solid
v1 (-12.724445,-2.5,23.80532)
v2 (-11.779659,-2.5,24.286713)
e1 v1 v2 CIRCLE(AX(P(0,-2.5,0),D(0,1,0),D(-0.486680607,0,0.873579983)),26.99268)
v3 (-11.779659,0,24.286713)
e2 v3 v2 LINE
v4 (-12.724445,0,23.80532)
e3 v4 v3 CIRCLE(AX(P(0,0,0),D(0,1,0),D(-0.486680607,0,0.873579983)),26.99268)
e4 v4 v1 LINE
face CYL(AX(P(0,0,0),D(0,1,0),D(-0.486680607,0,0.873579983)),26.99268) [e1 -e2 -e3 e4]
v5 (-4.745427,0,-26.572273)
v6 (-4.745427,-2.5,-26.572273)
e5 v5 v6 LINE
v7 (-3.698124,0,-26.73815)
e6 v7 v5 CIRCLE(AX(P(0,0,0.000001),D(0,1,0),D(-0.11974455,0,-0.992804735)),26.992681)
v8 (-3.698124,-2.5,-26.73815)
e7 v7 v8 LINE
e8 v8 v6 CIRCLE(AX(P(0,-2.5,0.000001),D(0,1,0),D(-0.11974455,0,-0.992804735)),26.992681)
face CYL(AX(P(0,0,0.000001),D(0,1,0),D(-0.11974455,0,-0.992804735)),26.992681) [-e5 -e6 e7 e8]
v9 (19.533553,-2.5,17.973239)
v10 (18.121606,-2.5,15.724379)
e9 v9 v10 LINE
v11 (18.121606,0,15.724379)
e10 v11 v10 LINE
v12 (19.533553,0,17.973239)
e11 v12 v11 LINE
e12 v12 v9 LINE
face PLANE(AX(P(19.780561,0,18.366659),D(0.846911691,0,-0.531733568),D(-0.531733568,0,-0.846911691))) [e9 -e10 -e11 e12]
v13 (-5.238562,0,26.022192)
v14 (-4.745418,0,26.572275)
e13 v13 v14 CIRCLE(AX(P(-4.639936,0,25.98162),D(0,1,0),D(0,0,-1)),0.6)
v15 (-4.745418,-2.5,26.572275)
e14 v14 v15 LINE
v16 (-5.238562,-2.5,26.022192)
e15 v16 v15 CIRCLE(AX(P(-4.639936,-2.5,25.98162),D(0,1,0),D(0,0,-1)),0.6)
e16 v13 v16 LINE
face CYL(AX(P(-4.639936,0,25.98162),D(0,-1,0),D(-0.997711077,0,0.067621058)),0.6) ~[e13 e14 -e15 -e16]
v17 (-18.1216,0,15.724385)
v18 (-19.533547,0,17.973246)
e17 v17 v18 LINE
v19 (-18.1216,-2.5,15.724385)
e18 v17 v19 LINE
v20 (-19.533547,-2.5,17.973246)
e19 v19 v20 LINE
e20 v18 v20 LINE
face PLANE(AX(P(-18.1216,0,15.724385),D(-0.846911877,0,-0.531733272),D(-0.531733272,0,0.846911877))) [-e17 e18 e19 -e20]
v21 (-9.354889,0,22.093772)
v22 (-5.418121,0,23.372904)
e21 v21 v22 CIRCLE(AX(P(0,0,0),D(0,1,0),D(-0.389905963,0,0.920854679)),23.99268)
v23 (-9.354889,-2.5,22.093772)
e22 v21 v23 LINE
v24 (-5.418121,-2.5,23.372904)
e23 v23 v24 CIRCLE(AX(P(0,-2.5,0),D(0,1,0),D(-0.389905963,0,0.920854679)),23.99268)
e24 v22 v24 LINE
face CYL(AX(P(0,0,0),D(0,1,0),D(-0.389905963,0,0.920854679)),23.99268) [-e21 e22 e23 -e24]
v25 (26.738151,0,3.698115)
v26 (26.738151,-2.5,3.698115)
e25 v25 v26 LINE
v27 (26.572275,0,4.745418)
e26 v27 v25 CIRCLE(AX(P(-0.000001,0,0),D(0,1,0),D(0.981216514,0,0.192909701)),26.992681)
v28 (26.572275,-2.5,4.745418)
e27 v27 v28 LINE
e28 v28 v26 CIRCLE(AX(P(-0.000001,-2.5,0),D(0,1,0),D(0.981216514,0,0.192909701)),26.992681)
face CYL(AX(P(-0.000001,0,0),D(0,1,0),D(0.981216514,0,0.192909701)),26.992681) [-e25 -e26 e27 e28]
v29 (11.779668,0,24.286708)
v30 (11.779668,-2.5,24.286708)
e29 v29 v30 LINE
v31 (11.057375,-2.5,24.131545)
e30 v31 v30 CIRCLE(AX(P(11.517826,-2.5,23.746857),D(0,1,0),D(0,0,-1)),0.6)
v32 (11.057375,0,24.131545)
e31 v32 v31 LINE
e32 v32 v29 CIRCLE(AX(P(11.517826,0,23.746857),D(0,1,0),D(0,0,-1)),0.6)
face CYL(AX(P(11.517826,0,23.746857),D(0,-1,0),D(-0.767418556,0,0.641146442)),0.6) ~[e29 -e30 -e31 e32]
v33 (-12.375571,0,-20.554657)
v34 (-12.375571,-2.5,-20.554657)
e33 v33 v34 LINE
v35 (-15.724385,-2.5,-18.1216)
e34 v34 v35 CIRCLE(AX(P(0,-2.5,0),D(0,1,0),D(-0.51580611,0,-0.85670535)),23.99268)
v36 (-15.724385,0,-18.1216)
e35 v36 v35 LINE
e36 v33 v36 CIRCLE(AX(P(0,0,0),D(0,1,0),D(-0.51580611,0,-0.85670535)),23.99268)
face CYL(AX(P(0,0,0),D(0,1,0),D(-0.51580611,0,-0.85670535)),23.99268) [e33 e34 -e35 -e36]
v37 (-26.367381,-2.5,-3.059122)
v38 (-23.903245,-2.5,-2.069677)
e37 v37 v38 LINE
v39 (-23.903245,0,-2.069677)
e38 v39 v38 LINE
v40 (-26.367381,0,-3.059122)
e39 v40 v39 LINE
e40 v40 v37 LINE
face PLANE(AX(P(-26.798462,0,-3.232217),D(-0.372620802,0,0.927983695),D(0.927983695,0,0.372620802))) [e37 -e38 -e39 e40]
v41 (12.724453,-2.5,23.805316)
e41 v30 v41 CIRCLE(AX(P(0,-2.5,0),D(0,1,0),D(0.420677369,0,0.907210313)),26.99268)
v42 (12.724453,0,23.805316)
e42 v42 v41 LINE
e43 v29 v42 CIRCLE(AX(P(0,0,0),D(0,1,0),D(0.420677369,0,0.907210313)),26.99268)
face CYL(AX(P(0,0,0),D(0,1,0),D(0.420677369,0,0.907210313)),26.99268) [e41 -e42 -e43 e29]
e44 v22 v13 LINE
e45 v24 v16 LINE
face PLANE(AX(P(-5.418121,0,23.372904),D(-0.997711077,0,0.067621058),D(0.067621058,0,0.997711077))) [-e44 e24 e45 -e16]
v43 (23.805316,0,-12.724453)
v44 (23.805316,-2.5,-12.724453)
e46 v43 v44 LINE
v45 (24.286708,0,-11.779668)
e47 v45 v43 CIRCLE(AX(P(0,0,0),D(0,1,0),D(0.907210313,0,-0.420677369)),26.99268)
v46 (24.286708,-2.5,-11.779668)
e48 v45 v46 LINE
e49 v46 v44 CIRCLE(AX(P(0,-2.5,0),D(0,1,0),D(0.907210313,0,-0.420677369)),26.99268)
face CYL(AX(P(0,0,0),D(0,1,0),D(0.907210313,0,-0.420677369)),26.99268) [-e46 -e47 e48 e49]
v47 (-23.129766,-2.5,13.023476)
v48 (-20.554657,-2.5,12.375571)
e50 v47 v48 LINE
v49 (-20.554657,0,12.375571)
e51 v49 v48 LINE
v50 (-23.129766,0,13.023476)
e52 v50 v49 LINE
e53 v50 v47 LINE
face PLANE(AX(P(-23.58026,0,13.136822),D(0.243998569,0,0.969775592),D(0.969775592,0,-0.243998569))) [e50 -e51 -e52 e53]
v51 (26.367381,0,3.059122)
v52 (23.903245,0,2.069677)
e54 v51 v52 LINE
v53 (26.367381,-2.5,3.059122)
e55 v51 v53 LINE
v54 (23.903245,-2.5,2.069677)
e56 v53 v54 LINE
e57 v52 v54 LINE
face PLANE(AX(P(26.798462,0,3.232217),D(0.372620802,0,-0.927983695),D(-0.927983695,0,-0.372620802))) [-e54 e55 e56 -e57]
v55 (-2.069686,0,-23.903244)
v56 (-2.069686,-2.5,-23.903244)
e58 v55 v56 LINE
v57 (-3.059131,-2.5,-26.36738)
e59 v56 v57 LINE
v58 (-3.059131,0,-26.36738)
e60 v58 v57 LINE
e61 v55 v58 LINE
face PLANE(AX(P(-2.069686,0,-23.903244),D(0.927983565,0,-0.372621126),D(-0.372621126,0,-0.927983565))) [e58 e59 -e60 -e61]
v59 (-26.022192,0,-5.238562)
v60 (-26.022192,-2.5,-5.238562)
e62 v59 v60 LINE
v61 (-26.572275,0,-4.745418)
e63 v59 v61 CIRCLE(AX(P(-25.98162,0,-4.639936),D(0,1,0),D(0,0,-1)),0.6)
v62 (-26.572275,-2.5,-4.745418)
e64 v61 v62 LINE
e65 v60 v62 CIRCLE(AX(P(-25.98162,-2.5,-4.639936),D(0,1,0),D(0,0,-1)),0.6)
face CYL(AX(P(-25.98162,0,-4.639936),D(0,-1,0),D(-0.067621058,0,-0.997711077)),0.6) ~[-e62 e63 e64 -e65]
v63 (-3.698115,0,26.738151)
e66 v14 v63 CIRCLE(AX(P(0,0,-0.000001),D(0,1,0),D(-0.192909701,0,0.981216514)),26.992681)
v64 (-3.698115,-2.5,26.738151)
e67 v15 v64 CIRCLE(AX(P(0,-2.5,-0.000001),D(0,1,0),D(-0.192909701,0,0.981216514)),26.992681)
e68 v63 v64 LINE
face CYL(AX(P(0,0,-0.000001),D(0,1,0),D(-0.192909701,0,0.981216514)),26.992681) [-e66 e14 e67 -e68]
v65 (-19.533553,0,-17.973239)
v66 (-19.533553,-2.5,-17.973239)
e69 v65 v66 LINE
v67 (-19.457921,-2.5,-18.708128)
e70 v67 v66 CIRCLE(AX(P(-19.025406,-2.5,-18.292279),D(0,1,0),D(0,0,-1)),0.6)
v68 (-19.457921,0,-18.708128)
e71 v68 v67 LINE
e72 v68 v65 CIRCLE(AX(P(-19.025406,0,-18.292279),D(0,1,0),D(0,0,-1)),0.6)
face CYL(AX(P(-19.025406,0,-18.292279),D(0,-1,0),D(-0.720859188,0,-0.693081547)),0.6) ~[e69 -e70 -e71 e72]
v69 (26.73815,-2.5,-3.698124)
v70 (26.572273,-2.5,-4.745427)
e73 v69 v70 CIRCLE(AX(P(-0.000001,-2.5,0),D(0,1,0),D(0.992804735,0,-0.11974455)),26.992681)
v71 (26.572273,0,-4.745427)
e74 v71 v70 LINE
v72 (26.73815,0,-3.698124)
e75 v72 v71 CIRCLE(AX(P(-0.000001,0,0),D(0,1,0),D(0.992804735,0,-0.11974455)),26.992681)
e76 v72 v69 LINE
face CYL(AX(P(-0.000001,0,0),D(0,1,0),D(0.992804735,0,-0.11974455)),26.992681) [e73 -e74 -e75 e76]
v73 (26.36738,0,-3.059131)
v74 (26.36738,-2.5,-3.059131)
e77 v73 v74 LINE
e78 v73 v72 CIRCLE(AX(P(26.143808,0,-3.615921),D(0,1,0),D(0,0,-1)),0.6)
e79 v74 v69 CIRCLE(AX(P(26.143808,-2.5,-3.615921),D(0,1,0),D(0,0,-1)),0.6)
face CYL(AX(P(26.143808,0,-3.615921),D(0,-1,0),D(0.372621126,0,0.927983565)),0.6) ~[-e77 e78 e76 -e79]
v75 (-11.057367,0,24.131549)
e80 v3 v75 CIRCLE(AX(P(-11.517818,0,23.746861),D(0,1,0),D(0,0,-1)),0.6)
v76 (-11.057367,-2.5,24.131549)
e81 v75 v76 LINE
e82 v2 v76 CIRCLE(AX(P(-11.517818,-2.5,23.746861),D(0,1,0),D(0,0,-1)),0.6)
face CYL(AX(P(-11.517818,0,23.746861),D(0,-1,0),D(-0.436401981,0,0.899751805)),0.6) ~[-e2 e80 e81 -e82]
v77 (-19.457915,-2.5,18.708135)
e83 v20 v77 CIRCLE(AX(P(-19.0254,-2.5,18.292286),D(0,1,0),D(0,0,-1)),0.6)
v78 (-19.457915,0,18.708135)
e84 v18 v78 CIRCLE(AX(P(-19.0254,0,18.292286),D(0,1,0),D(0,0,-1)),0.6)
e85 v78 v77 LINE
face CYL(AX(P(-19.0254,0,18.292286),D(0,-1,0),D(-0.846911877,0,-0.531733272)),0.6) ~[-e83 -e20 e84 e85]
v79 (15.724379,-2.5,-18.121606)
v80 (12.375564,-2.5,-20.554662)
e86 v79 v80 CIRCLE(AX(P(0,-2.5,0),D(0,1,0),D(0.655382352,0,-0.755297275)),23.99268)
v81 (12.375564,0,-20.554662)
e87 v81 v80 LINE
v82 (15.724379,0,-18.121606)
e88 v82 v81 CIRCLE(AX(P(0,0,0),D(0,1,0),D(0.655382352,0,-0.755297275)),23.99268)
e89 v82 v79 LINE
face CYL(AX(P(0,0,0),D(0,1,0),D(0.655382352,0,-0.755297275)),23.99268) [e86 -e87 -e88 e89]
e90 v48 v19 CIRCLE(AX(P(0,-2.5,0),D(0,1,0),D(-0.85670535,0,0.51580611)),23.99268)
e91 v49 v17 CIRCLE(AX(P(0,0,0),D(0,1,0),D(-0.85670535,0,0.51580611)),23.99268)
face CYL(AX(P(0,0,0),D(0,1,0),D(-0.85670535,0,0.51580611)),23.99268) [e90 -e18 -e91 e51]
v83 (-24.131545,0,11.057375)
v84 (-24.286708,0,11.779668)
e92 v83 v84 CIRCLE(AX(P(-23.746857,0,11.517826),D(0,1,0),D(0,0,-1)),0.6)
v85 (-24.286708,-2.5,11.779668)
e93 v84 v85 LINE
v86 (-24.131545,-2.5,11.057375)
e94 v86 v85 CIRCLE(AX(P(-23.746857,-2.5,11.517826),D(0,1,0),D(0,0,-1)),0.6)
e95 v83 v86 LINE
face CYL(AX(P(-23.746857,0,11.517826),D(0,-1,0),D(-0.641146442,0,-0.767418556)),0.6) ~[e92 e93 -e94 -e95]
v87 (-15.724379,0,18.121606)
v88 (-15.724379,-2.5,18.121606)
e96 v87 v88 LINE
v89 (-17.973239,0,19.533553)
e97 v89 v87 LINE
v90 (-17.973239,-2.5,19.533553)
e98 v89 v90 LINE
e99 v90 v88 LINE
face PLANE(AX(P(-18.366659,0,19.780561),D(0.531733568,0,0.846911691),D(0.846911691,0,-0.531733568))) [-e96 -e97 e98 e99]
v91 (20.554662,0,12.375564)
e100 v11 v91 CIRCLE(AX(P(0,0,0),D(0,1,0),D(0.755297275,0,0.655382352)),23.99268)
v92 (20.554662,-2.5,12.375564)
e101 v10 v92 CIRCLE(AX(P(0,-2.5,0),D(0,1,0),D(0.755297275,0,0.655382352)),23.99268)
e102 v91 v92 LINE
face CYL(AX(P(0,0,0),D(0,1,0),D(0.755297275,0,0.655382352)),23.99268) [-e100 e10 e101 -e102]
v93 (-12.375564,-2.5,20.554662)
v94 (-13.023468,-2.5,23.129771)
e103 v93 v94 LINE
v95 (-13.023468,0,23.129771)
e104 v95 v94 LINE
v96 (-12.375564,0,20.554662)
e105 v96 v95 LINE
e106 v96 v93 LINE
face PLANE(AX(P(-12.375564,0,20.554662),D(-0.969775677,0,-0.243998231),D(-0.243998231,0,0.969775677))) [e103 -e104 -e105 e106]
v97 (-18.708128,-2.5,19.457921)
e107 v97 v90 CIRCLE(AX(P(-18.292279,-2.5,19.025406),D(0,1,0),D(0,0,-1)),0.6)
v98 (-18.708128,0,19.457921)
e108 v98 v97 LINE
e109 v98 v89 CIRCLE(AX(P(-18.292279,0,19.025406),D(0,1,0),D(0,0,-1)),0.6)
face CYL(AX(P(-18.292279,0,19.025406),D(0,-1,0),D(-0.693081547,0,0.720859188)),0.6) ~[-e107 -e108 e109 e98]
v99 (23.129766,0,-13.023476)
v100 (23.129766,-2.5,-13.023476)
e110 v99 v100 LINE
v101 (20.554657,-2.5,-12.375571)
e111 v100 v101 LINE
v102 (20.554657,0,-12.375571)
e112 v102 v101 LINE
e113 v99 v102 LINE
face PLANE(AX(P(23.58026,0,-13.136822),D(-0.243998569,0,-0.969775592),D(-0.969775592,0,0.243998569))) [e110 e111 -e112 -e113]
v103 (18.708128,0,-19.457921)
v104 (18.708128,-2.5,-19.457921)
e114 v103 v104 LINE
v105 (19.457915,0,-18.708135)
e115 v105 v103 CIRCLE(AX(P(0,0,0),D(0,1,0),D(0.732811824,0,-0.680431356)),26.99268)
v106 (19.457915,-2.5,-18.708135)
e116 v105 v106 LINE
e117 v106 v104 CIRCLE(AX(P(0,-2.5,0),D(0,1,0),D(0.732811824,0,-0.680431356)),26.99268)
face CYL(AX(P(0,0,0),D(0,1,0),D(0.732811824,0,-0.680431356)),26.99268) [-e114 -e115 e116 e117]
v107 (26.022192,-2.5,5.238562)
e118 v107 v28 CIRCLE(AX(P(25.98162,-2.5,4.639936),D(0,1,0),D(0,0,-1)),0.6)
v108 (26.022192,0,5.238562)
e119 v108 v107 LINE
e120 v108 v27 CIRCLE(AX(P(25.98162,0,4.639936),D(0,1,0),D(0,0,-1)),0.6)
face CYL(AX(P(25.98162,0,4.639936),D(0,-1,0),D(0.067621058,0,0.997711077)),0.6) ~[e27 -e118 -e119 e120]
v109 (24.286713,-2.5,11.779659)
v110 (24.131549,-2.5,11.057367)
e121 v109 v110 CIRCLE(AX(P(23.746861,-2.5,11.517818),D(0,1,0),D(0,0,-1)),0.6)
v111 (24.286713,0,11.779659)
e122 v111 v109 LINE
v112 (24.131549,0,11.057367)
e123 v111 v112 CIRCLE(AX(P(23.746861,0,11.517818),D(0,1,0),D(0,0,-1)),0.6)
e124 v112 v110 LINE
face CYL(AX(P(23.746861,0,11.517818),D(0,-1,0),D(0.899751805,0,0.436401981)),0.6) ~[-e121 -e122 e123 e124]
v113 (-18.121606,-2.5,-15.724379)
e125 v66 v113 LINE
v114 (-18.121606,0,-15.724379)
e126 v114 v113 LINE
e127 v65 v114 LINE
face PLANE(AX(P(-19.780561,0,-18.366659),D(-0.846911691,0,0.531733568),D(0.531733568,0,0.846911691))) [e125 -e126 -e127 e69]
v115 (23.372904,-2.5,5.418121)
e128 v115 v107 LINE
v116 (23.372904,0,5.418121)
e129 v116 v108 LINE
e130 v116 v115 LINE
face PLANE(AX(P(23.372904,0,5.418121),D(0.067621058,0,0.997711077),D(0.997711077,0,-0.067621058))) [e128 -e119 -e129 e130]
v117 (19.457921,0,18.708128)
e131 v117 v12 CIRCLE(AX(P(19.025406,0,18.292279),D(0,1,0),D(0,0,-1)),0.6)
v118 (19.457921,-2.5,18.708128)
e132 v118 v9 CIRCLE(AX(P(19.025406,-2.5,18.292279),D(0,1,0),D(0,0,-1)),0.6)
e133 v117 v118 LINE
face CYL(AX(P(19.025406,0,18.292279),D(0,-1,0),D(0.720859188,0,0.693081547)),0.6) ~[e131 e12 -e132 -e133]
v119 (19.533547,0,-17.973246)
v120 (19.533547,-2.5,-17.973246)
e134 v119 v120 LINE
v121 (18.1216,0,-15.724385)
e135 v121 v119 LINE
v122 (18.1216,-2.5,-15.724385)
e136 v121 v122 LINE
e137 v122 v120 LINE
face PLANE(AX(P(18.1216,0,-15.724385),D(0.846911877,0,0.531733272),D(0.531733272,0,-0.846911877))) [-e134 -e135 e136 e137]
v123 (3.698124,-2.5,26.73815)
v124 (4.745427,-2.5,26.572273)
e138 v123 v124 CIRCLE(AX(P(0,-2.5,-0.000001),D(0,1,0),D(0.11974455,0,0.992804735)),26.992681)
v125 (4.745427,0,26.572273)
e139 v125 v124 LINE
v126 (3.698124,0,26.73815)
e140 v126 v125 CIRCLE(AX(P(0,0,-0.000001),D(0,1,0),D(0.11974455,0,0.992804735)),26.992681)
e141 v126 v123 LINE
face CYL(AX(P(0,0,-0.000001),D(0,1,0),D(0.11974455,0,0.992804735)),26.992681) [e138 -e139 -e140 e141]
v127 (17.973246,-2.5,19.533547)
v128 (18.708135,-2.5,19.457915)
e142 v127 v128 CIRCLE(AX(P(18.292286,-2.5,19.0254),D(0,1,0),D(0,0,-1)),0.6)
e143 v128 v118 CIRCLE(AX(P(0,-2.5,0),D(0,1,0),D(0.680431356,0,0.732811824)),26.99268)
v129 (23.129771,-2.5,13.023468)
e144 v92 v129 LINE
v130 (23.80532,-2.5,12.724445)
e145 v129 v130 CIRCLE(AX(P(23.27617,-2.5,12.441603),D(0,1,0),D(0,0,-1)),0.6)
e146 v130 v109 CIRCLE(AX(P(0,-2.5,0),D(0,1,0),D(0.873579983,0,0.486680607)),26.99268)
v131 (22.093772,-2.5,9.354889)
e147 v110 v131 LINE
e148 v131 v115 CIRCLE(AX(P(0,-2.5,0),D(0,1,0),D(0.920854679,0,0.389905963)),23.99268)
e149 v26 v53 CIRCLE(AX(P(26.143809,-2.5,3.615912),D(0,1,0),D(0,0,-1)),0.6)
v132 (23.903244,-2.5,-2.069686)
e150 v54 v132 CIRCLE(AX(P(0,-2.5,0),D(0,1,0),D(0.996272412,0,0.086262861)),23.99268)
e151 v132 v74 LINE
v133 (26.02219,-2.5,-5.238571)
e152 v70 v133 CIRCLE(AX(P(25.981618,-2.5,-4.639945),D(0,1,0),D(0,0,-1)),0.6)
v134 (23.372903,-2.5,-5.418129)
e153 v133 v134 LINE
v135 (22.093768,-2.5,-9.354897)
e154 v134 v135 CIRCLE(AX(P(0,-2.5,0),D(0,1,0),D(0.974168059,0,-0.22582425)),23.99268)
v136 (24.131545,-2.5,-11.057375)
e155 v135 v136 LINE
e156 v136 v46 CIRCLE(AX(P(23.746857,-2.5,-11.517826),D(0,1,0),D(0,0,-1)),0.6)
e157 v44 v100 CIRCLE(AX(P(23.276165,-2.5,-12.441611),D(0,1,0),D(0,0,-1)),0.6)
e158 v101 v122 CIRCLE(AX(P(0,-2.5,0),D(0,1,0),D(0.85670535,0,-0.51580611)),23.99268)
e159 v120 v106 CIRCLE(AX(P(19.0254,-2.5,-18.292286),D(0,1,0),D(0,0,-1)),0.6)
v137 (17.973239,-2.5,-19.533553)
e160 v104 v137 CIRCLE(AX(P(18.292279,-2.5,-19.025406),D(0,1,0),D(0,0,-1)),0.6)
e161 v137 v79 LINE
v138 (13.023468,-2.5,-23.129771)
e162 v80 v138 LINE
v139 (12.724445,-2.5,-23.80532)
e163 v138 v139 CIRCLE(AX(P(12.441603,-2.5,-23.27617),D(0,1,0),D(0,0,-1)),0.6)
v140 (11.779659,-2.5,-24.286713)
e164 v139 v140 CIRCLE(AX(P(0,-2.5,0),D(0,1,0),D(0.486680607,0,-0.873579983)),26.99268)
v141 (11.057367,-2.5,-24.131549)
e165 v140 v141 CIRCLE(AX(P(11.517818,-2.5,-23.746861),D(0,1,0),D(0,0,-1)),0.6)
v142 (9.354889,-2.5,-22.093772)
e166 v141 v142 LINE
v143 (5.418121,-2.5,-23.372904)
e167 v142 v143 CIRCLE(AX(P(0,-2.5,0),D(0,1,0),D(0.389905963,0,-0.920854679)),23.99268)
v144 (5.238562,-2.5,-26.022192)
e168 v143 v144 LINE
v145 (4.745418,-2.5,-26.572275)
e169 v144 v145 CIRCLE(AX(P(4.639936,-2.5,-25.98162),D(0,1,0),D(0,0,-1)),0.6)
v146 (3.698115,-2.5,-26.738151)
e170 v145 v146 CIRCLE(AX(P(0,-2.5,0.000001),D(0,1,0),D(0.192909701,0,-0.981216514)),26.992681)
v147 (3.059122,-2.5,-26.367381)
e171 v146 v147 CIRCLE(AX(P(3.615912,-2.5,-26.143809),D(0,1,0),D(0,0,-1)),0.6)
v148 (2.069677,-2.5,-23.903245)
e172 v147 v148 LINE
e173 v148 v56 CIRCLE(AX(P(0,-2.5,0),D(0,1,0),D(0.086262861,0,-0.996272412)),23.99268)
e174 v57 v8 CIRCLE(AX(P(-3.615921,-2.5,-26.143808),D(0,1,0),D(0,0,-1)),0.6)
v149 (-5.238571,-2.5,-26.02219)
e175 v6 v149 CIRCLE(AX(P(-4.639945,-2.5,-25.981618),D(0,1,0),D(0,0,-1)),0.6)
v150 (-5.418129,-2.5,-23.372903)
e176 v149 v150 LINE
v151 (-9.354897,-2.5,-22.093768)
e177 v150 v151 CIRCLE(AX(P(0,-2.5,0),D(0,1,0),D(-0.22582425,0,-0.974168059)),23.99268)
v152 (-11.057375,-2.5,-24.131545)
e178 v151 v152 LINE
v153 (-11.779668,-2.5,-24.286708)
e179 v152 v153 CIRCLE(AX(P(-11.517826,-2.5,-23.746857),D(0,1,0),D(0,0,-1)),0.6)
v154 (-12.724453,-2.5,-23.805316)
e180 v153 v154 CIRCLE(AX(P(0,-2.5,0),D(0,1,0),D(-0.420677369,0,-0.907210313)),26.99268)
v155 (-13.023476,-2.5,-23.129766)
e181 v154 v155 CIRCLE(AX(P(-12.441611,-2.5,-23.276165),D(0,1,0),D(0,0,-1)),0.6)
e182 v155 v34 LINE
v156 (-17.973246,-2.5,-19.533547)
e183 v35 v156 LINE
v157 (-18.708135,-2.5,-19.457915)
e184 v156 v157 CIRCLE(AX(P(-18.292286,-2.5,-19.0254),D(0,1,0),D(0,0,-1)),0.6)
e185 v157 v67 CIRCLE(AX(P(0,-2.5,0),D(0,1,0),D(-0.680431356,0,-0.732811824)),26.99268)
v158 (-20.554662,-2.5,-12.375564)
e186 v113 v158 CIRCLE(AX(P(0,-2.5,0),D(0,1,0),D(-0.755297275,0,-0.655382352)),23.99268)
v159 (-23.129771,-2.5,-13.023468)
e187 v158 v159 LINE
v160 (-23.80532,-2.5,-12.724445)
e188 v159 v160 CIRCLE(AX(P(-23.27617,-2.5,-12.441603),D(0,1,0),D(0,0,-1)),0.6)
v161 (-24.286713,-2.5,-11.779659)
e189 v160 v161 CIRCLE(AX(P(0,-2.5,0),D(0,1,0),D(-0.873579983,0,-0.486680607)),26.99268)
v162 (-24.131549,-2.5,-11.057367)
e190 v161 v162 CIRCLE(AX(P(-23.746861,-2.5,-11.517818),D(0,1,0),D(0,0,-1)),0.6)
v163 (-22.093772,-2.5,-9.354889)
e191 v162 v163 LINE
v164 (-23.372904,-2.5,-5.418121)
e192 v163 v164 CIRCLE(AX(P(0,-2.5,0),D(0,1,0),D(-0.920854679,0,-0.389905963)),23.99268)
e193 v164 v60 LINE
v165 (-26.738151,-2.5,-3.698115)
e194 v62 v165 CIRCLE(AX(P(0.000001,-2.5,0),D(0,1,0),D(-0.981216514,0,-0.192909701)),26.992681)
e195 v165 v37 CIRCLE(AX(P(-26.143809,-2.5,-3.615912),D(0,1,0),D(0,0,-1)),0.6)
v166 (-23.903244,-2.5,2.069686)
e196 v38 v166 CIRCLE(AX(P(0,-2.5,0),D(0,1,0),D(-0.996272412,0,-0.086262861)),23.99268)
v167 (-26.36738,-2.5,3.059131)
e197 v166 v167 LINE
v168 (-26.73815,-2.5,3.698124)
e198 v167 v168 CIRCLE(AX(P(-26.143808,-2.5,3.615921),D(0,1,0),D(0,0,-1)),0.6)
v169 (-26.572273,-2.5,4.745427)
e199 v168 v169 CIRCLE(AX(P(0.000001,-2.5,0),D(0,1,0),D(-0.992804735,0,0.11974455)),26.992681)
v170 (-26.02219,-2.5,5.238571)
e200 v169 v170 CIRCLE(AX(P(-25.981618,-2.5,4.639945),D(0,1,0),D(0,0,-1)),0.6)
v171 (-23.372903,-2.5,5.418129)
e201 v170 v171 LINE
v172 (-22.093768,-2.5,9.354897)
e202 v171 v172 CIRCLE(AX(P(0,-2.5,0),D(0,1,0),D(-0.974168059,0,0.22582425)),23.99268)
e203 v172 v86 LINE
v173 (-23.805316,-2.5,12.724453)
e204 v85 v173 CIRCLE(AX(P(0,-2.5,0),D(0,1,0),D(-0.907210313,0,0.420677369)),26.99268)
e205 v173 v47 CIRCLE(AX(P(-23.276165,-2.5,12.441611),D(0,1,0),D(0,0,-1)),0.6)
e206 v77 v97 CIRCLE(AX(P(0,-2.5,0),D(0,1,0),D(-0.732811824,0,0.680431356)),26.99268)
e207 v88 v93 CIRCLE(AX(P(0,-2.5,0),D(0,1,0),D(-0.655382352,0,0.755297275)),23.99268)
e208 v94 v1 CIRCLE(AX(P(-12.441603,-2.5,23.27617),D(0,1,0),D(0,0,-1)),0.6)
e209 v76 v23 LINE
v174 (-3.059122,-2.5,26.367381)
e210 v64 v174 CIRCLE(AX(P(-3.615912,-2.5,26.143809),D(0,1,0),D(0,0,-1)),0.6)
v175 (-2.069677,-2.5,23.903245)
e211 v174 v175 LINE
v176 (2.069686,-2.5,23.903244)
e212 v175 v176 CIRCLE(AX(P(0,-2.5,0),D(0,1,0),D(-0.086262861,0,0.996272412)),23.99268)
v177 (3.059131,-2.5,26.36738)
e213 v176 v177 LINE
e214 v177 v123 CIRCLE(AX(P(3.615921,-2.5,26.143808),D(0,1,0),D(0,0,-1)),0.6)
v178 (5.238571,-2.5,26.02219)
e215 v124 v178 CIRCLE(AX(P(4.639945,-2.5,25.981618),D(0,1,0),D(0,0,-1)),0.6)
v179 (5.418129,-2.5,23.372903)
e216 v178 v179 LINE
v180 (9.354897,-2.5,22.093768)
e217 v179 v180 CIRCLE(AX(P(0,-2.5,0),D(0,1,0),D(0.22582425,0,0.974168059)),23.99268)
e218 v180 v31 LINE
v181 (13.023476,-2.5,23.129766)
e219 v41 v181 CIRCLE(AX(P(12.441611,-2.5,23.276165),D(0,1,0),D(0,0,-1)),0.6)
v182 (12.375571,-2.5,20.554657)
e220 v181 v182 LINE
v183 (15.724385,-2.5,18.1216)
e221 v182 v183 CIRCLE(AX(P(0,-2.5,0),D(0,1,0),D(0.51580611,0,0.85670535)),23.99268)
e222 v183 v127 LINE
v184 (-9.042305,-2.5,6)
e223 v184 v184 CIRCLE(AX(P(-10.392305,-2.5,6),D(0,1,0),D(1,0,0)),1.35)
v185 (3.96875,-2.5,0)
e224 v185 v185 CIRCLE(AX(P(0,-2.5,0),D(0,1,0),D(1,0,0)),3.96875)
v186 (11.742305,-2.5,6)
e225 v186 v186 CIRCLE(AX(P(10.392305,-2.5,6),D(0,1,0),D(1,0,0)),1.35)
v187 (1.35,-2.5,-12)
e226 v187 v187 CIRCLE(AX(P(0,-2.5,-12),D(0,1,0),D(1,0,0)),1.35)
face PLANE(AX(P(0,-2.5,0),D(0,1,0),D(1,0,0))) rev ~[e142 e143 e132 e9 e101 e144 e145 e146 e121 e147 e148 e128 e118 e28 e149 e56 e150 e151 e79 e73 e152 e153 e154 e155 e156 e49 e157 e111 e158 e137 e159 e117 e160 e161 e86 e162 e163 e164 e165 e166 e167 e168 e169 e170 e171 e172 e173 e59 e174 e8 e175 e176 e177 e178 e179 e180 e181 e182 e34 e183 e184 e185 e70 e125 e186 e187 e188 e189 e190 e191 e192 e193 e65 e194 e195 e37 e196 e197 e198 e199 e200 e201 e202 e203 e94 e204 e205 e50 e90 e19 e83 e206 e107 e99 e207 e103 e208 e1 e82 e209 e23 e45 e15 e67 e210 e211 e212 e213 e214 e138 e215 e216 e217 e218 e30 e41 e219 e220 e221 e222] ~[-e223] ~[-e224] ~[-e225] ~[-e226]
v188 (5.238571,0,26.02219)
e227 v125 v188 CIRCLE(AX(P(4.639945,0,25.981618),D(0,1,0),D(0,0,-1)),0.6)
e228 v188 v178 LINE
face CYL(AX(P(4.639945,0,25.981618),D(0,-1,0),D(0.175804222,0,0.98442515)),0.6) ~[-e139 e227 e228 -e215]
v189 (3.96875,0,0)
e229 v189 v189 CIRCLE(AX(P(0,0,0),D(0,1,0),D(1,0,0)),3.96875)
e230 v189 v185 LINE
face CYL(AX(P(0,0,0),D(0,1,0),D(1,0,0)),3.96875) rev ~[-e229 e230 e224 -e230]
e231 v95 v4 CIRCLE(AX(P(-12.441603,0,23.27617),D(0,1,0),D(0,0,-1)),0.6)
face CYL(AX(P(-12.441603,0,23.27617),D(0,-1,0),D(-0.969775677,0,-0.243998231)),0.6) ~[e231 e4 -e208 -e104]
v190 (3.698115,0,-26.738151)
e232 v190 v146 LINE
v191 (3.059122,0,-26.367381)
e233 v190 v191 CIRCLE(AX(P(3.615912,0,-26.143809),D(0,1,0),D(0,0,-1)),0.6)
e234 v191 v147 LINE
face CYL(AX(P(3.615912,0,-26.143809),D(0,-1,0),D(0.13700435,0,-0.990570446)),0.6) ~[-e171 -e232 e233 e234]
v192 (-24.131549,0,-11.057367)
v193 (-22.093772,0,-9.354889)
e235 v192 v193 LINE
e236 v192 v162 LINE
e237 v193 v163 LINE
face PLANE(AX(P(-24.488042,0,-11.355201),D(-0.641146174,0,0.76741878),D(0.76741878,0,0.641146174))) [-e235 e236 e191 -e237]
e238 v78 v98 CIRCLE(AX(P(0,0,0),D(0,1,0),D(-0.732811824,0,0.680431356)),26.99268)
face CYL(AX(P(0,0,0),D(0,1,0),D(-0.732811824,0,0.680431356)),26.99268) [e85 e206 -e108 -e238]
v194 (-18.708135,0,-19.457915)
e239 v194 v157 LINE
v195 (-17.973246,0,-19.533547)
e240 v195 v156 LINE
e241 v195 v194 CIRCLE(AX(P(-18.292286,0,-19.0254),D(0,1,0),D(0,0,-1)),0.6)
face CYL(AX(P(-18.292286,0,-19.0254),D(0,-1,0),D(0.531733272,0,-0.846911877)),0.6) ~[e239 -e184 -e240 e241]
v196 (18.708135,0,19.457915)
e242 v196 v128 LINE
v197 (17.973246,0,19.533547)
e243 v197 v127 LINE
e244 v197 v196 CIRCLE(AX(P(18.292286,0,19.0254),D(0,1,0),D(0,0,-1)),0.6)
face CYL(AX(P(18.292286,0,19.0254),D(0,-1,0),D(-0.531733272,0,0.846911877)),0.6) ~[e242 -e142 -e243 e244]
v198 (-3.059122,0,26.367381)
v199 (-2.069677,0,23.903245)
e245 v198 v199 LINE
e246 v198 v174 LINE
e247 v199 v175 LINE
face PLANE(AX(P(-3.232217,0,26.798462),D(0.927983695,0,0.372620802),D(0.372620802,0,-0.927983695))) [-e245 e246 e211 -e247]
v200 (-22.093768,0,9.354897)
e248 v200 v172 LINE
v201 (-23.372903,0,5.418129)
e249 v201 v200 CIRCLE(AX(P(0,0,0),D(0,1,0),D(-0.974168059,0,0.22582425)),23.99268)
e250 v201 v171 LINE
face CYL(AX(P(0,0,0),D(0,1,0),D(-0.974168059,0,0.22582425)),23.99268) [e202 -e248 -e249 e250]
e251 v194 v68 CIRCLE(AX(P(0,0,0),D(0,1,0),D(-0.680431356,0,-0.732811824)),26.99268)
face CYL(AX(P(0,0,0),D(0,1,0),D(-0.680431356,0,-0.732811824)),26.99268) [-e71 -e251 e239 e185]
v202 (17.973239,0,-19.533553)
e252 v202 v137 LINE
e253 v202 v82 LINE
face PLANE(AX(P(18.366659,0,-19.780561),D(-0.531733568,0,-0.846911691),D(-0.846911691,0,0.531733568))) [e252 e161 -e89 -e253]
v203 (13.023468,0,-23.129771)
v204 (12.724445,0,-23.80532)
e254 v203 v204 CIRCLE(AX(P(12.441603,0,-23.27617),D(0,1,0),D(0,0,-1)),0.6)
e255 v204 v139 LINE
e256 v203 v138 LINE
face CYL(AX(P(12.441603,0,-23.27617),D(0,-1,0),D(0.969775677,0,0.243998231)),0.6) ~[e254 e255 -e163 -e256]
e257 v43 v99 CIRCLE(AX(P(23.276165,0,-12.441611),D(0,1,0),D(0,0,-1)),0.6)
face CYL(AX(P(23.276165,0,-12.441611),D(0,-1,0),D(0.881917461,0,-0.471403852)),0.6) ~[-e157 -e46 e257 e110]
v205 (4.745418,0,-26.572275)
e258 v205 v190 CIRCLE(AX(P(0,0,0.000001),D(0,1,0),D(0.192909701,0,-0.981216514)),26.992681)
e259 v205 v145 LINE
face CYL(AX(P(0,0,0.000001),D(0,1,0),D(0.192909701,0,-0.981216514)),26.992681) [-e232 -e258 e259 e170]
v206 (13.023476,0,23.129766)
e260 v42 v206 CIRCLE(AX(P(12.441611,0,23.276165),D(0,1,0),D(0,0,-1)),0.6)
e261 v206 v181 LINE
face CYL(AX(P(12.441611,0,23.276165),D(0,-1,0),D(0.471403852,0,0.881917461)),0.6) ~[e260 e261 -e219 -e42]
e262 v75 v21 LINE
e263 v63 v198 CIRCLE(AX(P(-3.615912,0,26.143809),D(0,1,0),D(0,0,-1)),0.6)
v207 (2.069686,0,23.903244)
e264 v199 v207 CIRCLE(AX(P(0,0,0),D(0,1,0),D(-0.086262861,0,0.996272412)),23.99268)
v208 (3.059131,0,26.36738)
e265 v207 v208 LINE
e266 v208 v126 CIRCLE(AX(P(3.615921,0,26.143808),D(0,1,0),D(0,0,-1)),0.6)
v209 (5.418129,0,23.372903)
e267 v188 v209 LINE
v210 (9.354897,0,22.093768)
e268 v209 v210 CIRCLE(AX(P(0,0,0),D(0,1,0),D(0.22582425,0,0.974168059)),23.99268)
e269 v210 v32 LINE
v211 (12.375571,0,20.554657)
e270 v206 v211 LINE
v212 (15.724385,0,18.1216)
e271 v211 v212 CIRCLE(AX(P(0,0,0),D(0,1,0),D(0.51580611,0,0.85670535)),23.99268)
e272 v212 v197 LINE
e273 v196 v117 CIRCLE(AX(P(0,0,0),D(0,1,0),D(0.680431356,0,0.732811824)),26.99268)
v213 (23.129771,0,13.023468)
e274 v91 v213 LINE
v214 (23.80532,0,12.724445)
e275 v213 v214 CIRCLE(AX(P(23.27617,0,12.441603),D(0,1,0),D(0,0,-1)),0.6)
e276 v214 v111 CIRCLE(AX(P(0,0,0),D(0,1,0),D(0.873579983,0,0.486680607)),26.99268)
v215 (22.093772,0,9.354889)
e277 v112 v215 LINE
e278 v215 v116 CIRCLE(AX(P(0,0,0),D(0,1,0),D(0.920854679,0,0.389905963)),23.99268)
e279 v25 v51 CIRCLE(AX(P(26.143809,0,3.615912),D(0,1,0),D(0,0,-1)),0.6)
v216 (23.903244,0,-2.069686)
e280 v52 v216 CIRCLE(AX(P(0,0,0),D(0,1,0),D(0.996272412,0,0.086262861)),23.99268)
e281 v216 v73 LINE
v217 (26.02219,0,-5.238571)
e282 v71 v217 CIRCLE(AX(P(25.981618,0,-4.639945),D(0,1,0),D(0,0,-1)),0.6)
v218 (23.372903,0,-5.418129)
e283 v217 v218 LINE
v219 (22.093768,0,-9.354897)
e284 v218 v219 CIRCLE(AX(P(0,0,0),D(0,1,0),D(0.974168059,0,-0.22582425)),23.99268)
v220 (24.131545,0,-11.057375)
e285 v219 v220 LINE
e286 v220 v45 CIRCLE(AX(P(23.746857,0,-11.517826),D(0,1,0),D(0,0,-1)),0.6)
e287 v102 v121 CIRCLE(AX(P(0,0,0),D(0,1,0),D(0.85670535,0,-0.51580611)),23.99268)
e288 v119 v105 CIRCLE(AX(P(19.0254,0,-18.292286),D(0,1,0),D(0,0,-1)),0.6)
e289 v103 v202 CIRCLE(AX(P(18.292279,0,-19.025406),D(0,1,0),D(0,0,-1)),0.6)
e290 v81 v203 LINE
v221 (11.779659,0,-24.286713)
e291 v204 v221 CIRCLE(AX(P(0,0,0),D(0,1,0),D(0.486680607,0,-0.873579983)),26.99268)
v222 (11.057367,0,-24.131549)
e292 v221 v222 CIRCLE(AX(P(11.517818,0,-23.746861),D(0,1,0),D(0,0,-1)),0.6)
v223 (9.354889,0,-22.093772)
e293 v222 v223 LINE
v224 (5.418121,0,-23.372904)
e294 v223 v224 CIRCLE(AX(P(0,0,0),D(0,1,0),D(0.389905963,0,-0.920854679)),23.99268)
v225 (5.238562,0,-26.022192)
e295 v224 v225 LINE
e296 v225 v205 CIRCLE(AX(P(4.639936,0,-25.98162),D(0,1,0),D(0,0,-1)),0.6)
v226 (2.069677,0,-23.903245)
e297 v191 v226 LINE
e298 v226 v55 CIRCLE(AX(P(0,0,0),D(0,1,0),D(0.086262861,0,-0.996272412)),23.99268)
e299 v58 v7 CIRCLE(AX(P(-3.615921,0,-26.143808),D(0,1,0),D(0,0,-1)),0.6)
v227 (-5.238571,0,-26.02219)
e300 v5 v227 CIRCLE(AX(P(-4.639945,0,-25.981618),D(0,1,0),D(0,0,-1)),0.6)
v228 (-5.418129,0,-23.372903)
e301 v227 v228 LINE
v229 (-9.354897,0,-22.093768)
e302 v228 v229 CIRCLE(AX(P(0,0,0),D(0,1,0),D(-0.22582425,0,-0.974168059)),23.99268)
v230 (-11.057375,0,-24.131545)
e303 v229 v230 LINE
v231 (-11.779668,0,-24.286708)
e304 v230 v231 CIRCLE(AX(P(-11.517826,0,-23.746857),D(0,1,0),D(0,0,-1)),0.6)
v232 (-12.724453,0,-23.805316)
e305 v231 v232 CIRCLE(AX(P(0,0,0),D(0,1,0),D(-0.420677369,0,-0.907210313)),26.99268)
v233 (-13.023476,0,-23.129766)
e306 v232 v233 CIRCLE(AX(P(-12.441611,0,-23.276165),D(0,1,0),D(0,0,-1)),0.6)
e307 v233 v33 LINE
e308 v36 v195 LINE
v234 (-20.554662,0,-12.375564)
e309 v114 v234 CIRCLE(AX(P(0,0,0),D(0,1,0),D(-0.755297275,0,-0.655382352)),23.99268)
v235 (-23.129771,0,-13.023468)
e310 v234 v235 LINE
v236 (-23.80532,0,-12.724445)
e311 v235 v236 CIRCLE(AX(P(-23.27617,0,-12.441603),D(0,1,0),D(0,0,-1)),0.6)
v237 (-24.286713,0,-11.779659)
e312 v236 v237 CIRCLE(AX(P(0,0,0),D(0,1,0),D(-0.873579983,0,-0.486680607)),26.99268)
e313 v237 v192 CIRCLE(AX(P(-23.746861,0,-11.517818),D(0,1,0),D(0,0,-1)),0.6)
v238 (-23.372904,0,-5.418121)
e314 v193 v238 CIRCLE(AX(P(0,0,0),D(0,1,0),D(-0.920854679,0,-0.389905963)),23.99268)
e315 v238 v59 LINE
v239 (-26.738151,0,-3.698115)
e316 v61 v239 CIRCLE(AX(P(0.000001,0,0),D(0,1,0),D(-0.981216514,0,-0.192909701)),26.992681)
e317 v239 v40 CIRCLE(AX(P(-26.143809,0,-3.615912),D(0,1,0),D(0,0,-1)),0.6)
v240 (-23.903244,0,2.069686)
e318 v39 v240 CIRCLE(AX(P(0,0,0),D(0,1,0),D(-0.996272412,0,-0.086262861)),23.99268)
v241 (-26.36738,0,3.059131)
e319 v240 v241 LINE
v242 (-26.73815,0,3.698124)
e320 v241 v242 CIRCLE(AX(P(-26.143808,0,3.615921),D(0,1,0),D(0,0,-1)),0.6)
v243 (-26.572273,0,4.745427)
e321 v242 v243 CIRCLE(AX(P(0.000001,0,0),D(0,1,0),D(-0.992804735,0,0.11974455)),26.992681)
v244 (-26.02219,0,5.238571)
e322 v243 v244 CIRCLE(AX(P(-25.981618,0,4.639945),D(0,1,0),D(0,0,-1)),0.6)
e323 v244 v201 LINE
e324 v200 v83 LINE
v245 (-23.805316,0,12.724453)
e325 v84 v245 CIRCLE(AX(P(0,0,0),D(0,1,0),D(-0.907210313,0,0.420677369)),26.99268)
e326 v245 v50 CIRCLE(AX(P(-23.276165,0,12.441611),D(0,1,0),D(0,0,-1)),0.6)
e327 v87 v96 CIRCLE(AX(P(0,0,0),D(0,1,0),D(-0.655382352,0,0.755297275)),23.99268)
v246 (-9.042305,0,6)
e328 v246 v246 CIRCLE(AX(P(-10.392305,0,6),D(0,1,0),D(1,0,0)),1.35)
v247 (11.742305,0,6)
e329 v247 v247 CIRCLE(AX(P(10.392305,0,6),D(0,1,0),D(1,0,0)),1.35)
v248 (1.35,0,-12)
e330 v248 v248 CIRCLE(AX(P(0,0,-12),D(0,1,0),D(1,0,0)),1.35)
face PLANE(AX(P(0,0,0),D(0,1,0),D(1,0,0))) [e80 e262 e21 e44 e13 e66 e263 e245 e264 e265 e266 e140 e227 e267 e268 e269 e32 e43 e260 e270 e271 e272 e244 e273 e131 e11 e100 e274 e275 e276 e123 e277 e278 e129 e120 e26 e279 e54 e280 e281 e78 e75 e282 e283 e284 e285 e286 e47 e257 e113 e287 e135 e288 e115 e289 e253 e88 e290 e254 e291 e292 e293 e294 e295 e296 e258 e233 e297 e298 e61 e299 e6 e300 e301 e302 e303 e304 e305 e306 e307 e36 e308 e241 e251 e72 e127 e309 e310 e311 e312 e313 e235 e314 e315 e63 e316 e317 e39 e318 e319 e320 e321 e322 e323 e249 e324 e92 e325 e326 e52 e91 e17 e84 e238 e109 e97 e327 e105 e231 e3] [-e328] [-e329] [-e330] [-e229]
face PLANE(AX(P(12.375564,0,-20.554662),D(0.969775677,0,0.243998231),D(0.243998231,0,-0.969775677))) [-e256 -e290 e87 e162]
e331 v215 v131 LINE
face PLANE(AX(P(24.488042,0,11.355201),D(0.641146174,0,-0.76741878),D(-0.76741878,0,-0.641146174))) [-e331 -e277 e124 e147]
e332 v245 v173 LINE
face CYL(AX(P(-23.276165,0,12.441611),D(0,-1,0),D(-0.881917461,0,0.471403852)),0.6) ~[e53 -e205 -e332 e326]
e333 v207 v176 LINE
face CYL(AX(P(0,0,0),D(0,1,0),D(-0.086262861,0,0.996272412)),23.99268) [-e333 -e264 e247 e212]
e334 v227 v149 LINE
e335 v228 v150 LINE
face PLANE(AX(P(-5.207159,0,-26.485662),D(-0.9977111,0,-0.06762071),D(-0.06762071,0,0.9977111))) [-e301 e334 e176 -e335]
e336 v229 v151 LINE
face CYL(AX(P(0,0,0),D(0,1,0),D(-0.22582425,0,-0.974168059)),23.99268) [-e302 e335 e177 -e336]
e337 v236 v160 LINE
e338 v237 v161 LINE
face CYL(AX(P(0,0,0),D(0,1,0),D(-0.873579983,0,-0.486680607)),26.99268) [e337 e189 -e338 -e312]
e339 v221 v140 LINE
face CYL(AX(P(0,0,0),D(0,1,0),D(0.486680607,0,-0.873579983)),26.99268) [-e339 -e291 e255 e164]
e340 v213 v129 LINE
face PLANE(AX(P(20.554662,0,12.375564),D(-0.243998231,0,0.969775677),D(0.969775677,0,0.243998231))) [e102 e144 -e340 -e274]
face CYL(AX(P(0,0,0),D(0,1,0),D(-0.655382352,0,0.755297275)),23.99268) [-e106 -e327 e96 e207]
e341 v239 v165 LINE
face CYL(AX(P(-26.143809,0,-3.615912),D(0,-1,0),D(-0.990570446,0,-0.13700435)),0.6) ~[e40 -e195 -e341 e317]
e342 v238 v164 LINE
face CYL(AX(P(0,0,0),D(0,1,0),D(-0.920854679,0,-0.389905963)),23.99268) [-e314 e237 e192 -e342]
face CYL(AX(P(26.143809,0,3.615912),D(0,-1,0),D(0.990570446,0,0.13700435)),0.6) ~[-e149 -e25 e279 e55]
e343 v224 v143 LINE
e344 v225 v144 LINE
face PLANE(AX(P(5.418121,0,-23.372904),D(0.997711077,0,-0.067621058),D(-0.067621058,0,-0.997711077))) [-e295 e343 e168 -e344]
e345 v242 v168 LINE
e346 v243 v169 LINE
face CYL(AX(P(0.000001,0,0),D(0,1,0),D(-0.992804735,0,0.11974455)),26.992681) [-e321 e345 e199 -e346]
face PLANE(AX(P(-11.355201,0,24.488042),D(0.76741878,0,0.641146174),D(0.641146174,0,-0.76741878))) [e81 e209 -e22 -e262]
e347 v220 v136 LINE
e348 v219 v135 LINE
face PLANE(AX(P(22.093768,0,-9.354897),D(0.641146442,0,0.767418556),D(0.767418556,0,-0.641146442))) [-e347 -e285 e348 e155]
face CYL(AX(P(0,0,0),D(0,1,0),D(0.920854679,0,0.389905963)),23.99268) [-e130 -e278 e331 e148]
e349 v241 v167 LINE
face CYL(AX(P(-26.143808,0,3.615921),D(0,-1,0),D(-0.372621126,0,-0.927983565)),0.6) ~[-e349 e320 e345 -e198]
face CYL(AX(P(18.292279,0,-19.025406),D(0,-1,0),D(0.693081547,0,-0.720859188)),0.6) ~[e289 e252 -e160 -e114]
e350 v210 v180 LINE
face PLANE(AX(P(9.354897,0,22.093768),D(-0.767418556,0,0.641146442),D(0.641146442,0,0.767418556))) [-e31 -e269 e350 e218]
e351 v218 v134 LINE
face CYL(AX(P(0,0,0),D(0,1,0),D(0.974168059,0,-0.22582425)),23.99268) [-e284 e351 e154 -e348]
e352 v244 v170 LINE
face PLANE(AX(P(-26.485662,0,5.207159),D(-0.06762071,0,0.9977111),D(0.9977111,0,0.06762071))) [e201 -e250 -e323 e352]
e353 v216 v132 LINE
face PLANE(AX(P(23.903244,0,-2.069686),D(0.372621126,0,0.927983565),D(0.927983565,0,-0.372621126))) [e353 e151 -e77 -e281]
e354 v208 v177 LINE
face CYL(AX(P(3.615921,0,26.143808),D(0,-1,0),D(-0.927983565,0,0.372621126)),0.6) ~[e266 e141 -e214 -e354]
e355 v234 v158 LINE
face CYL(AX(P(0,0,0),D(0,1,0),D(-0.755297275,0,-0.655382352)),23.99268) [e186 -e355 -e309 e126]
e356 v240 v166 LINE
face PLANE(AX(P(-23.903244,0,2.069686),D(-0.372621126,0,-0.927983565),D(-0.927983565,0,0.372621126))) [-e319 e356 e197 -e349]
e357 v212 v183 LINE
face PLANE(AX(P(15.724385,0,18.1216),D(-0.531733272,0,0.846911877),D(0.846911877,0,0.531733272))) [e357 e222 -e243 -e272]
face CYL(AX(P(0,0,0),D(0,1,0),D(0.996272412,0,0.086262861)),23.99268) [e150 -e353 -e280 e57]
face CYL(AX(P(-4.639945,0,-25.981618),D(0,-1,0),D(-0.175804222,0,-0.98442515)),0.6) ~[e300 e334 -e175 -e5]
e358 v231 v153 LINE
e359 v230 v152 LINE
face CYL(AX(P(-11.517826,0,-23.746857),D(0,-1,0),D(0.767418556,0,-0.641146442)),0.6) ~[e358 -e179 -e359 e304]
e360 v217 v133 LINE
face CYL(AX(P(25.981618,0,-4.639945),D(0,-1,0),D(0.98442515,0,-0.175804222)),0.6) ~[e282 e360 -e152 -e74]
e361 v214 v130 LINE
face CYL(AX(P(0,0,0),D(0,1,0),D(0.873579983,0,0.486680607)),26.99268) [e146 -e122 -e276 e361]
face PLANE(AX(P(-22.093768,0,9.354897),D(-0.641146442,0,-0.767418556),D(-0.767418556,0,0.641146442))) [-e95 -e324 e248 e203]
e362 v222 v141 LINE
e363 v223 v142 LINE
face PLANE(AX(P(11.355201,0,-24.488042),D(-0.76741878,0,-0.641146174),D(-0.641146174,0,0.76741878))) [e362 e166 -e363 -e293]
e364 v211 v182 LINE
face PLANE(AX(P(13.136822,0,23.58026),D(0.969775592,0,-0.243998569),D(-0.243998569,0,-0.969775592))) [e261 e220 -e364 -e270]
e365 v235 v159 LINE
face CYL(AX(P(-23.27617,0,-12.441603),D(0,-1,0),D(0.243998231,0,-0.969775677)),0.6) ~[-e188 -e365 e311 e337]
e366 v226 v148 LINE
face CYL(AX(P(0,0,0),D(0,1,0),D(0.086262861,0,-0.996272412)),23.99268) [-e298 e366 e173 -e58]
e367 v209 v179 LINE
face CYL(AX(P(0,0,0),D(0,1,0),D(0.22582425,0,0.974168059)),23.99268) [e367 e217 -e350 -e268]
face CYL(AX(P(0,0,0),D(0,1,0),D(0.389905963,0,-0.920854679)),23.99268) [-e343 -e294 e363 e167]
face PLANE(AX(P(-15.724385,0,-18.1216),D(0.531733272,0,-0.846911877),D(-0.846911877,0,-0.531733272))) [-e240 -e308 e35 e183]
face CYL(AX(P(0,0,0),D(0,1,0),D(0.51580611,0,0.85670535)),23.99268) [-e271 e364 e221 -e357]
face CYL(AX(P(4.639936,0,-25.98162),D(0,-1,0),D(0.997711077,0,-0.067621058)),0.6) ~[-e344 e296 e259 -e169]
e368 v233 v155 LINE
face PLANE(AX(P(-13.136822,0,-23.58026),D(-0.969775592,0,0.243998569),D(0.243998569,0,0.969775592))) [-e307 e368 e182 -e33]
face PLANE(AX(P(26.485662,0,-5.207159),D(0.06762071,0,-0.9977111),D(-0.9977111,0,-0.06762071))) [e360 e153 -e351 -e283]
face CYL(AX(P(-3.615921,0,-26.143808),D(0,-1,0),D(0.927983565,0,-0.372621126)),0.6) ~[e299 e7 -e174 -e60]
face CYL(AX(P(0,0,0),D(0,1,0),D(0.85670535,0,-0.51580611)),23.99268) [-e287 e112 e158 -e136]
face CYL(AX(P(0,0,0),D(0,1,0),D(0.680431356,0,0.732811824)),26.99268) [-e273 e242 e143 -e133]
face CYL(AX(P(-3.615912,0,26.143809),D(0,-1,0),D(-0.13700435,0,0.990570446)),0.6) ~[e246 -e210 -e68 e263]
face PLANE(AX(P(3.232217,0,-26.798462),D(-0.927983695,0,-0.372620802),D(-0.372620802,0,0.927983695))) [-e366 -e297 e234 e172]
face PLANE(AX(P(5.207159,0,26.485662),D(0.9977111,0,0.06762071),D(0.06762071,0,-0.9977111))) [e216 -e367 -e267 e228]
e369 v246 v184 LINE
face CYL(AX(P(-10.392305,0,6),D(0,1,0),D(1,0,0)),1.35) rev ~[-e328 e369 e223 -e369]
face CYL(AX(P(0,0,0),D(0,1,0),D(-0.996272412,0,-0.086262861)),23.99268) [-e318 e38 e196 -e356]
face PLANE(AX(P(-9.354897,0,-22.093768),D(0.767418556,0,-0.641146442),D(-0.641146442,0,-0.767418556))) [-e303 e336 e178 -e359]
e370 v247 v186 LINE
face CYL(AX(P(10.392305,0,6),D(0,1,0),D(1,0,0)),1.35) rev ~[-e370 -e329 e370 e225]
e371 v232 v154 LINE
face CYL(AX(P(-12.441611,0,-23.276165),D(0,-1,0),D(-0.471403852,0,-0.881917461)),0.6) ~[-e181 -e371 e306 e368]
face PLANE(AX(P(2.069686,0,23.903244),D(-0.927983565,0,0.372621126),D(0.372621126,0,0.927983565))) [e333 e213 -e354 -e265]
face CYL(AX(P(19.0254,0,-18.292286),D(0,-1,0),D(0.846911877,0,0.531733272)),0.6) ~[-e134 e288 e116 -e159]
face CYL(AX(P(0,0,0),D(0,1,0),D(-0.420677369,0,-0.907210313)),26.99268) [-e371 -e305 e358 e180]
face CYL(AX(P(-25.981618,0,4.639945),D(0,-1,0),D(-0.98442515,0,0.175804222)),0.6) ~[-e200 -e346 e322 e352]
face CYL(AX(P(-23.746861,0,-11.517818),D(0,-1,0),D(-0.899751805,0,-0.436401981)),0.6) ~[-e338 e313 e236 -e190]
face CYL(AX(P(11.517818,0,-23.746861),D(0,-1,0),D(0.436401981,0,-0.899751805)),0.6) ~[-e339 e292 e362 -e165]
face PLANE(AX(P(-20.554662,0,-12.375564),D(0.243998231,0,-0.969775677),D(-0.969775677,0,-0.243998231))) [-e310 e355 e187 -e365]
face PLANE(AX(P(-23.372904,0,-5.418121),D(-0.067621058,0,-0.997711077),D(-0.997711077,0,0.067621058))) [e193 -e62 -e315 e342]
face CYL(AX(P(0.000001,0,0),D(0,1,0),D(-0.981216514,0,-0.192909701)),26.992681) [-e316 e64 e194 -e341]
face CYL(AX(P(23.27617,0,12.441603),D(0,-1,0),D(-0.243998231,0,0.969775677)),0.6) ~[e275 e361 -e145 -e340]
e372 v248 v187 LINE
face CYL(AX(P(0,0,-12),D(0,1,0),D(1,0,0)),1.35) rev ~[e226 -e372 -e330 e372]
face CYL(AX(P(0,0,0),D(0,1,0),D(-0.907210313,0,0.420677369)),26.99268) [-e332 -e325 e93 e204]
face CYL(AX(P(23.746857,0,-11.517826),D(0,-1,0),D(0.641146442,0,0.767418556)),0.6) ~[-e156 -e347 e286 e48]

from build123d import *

# Parameters (mm, degrees)
BOSS_EXTRUDE1_DEPTH = 2.5
FILLET1_R           = 0.6
SKETCH5_R           = 1.35
CUT_EXTRUDE4_DEPTH  = 3.5
SKETCH6_R           = 3.96875
CUT_EXTRUDE5_DEPTH  = 3.5


with BuildPart() as part:
    # Sketch1 → Boss-Extrude1 (new body)
    with BuildSketch(Plane(origin=(0, 0, 0), x_dir=(1, 0, 0), z_dir=(0, 1, 0))):
        with BuildLine():
            Line((-2.069685574, 23.903244449), (-3.232226288, 26.798460531))
            ThreePointArc((-3.232226288, 26.798460531), (-4.222590109, 26.66035458), (-5.207159099, 26.485661549))
            Line((-5.207159099, 26.485661549), (-5.418128963, 23.372902518))
            ThreePointArc((-5.418128963, 23.372902518), (-7.414149843, 22.818393363), (-9.354896707, 22.093768379))
            Line((-9.354896707, 22.093768379), (-11.3552096, 24.488037662))
            ThreePointArc((-11.3552096, 24.488037662), (-12.25442448, 24.050651847), (-13.136822119, 23.580260351))
            Line((-13.136822119, 23.580260351), (-12.375570942, 20.554657318))
            ThreePointArc((-12.375570942, 20.554657318), (-14.102546855, 19.410483399), (-15.724385372, 18.121600323))
            Line((-15.724385372, 18.121600323), (-18.36666588, 19.780555048))
            ThreePointArc((-18.36666588, 19.780555048), (-19.086710402, 19.086703739), (-19.78056146, 18.366658976))
            Line((-19.78056146, 18.366658976), (-18.121605812, 15.724379046))
            ThreePointArc((-18.121605812, 15.724379046), (-19.410488322, 14.102540079), (-20.554661637, 12.375563767))
            Line((-20.554661637, 12.375563767), (-23.580264936, 13.136813888))
            ThreePointArc((-23.580264936, 13.136813888), (-24.050656124, 12.254416085), (-24.488041625, 11.355201052))
            Line((-24.488041625, 11.355201052), (-22.093771644, 9.354888995))
            ThreePointArc((-22.093771644, 9.354888995), (-22.818395951, 7.414141878), (-23.37290441, 5.418120804))
            Line((-23.37290441, 5.418120804), (-26.485663367, 5.207149854))
            ThreePointArc((-26.485663367, 5.207149854), (-26.660356054, 4.222580803), (-26.798461659, 3.232216933))
            Line((-26.798461659, 3.232216933), (-23.903245172, 2.06967723))
            ThreePointArc((-23.903245172, 2.06967723), (-23.99268, -4.188e-06), (-23.903244449, -2.069685574))
            Line((-23.903244449, -2.069685574), (-26.798460531, -3.232226288))
            ThreePointArc((-26.798460531, -3.232226288), (-26.66035458, -4.222590109), (-26.485661549, -5.207159099))
            Line((-26.485661549, -5.207159099), (-23.372902518, -5.418128963))
            ThreePointArc((-23.372902518, -5.418128963), (-22.818393363, -7.414149843), (-22.093768379, -9.354896707))
            Line((-22.093768379, -9.354896707), (-24.488037662, -11.3552096))
            ThreePointArc((-24.488037662, -11.3552096), (-24.050651847, -12.25442448), (-23.580260351, -13.136822119))
            Line((-23.580260351, -13.136822119), (-20.554657318, -12.375570942))
            ThreePointArc((-20.554657318, -12.375570942), (-19.410483399, -14.102546855), (-18.121600323, -15.724385372))
            Line((-18.121600323, -15.724385372), (-19.780555048, -18.36666588))
            ThreePointArc((-19.780555048, -18.36666588), (-19.086703739, -19.086710402), (-18.366658976, -19.78056146))
            Line((-18.366658976, -19.78056146), (-15.724379046, -18.121605812))
            ThreePointArc((-15.724379046, -18.121605812), (-14.102540079, -19.410488322), (-12.375563767, -20.554661637))
            Line((-12.375563767, -20.554661637), (-13.136813888, -23.580264936))
            ThreePointArc((-13.136813888, -23.580264936), (-12.254416085, -24.050656124), (-11.355201052, -24.488041625))
            Line((-11.355201052, -24.488041625), (-9.354888995, -22.093771644))
            ThreePointArc((-9.354888995, -22.093771644), (-7.414141878, -22.818395951), (-5.418120804, -23.37290441))
            Line((-5.418120804, -23.37290441), (-5.207149854, -26.485663367))
            ThreePointArc((-5.207149854, -26.485663367), (-4.222580803, -26.660356054), (-3.232216933, -26.798461659))
            Line((-3.232216933, -26.798461659), (-2.06967723, -23.903245172))
            ThreePointArc((-2.06967723, -23.903245172), (4.188e-06, -23.99268), (2.069685574, -23.903244449))
            Line((2.069685574, -23.903244449), (3.232226288, -26.798460531))
            ThreePointArc((3.232226288, -26.798460531), (4.222590109, -26.66035458), (5.207159099, -26.485661549))
            Line((5.207159099, -26.485661549), (5.418128963, -23.372902518))
            ThreePointArc((5.418128963, -23.372902518), (7.414149843, -22.818393363), (9.354896707, -22.093768379))
            Line((9.354896707, -22.093768379), (11.3552096, -24.488037662))
            ThreePointArc((11.3552096, -24.488037662), (12.25442448, -24.050651847), (13.136822119, -23.580260351))
            Line((13.136822119, -23.580260351), (12.375570942, -20.554657318))
            ThreePointArc((12.375570942, -20.554657318), (14.102546855, -19.410483399), (15.724385372, -18.121600323))
            Line((15.724385372, -18.121600323), (18.36666588, -19.780555048))
            ThreePointArc((18.36666588, -19.780555048), (19.086710402, -19.086703739), (19.78056146, -18.366658976))
            Line((19.78056146, -18.366658976), (18.121605812, -15.724379046))
            ThreePointArc((18.121605812, -15.724379046), (19.410488322, -14.102540079), (20.554661637, -12.375563767))
            Line((20.554661637, -12.375563767), (23.580264936, -13.136813888))
            ThreePointArc((23.580264936, -13.136813888), (24.050656124, -12.254416085), (24.488041625, -11.355201052))
            Line((24.488041625, -11.355201052), (22.093771644, -9.354888995))
            ThreePointArc((22.093771644, -9.354888995), (22.818395951, -7.414141878), (23.37290441, -5.418120804))
            Line((23.37290441, -5.418120804), (26.485663367, -5.207149854))
            ThreePointArc((26.485663367, -5.207149854), (26.660356054, -4.222580803), (26.798461659, -3.232216933))
            Line((26.798461659, -3.232216933), (23.903245172, -2.06967723))
            ThreePointArc((23.903245172, -2.06967723), (23.99268, 4.188e-06), (23.903244449, 2.069685574))
            Line((23.903244449, 2.069685574), (26.798460531, 3.232226288))
            ThreePointArc((26.798460531, 3.232226288), (26.66035458, 4.222590109), (26.485661549, 5.207159099))
            Line((26.485661549, 5.207159099), (23.372902518, 5.418128963))
            ThreePointArc((23.372902518, 5.418128963), (22.818393363, 7.414149843), (22.093768379, 9.354896707))
            Line((22.093768379, 9.354896707), (24.488037662, 11.3552096))
            ThreePointArc((24.488037662, 11.3552096), (24.050651847, 12.25442448), (23.580260351, 13.136822119))
            Line((23.580260351, 13.136822119), (20.554657318, 12.375570942))
            ThreePointArc((20.554657318, 12.375570942), (19.410483399, 14.102546855), (18.121600323, 15.724385372))
            Line((18.121600323, 15.724385372), (19.780555048, 18.36666588))
            ThreePointArc((19.780555048, 18.36666588), (19.086703739, 19.086710402), (18.366658976, 19.78056146))
            Line((18.366658976, 19.78056146), (15.724379046, 18.121605812))
            ThreePointArc((15.724379046, 18.121605812), (14.102540079, 19.410488322), (12.375563767, 20.554661637))
            Line((12.375563767, 20.554661637), (13.136813888, 23.580264936))
            ThreePointArc((13.136813888, 23.580264936), (12.254416085, 24.050656124), (11.355201052, 24.488041625))
            Line((11.355201052, 24.488041625), (9.354888995, 22.093771644))
            ThreePointArc((9.354888995, 22.093771644), (7.414141878, 22.818395951), (5.418120804, 23.37290441))
            Line((5.418120804, 23.37290441), (5.207149854, 26.485663367))
            ThreePointArc((5.207149854, 26.485663367), (4.222580803, 26.660356054), (3.232216933, 26.798461659))
            Line((3.232216933, 26.798461659), (2.06967723, 23.903245172))
            ThreePointArc((2.06967723, 23.903245172), (-4.188e-06, 23.99268), (-2.069685574, 23.903244449))
        make_face()
    extrude(amount=-BOSS_EXTRUDE1_DEPTH)

    # Fillet1
    fillet1_edges = [part.edges().sort_by_distance(p)[0] for p in [
        (3.232216933, -1.25, -26.798461659),
        (5.207149854, -1.25, -26.485663367),
        (11.355201052, -1.25, -24.488041625),
        (13.136813888, -1.25, -23.580264936),
        (18.366658976, -1.25, -19.78056146),
        (19.780555048, -1.25, -18.36666588),
        (23.580260351, -1.25, -13.136822119),
        (24.488037662, -1.25, -11.3552096),
        (26.485661549, -1.25, -5.207159099),
        (26.798460531, -1.25, -3.232226288),
        (26.798461659, -1.25, 3.232216933),
        (26.485663367, -1.25, 5.207149854),
        (24.488041625, -1.25, 11.355201052),
        (23.580264936, -1.25, 13.136813888),
        (19.78056146, -1.25, 18.366658976),
        (18.36666588, -1.25, 19.780555048),
        (13.136822119, -1.25, 23.580260351),
        (11.3552096, -1.25, 24.488037662),
        (5.207159099, -1.25, 26.485661549),
        (3.232226288, -1.25, 26.798460531),
        (-3.232216933, -1.25, 26.798461659),
        (-5.207149854, -1.25, 26.485663367),
        (-11.355201052, -1.25, 24.488041625),
        (-13.136813888, -1.25, 23.580264936),
        (-18.366658976, -1.25, 19.78056146),
        (-19.780555048, -1.25, 18.36666588),
        (-23.580260351, -1.25, 13.136822119),
        (-24.488037662, -1.25, 11.3552096),
        (-26.485661549, -1.25, 5.207159099),
        (-26.798460531, -1.25, 3.232226288),
        (-26.798461659, -1.25, -3.232216933),
        (-26.485663367, -1.25, -5.207149854),
        (-24.488041625, -1.25, -11.355201052),
        (-23.580264936, -1.25, -13.136813888),
        (-19.78056146, -1.25, -18.366658976),
        (-18.36666588, -1.25, -19.780555048),
        (-13.136822119, -1.25, -23.580260351),
        (-11.3552096, -1.25, -24.488037662),
        (-5.207159099, -1.25, -26.485661549),
        (-3.232226288, -1.25, -26.798460531),
    ]]
    fillet(fillet1_edges, radius=FILLET1_R)

    # Sketch5 → Cut-Extrude4 (cut, through all)
    with BuildSketch(Plane(origin=(0, 0, 0), x_dir=(1, 0, 0), z_dir=(0, 1, 0))):
        with Locations((0, 12)):
            Circle(SKETCH5_R)
        with Locations((10.392304845, -6)):
            Circle(SKETCH5_R)
        with Locations((-10.392304845, -6)):
            Circle(SKETCH5_R)
    extrude(amount=-CUT_EXTRUDE4_DEPTH, mode=Mode.SUBTRACT)

    # Sketch6 → Cut-Extrude5 (cut, through all)
    with BuildSketch(Plane(origin=(0, 0, 0), x_dir=(1, 0, 0), z_dir=(0, 1, 0))):
        Circle(SKETCH6_R)
    extrude(amount=-CUT_EXTRUDE5_DEPTH, mode=Mode.SUBTRACT)


solid = part.part
